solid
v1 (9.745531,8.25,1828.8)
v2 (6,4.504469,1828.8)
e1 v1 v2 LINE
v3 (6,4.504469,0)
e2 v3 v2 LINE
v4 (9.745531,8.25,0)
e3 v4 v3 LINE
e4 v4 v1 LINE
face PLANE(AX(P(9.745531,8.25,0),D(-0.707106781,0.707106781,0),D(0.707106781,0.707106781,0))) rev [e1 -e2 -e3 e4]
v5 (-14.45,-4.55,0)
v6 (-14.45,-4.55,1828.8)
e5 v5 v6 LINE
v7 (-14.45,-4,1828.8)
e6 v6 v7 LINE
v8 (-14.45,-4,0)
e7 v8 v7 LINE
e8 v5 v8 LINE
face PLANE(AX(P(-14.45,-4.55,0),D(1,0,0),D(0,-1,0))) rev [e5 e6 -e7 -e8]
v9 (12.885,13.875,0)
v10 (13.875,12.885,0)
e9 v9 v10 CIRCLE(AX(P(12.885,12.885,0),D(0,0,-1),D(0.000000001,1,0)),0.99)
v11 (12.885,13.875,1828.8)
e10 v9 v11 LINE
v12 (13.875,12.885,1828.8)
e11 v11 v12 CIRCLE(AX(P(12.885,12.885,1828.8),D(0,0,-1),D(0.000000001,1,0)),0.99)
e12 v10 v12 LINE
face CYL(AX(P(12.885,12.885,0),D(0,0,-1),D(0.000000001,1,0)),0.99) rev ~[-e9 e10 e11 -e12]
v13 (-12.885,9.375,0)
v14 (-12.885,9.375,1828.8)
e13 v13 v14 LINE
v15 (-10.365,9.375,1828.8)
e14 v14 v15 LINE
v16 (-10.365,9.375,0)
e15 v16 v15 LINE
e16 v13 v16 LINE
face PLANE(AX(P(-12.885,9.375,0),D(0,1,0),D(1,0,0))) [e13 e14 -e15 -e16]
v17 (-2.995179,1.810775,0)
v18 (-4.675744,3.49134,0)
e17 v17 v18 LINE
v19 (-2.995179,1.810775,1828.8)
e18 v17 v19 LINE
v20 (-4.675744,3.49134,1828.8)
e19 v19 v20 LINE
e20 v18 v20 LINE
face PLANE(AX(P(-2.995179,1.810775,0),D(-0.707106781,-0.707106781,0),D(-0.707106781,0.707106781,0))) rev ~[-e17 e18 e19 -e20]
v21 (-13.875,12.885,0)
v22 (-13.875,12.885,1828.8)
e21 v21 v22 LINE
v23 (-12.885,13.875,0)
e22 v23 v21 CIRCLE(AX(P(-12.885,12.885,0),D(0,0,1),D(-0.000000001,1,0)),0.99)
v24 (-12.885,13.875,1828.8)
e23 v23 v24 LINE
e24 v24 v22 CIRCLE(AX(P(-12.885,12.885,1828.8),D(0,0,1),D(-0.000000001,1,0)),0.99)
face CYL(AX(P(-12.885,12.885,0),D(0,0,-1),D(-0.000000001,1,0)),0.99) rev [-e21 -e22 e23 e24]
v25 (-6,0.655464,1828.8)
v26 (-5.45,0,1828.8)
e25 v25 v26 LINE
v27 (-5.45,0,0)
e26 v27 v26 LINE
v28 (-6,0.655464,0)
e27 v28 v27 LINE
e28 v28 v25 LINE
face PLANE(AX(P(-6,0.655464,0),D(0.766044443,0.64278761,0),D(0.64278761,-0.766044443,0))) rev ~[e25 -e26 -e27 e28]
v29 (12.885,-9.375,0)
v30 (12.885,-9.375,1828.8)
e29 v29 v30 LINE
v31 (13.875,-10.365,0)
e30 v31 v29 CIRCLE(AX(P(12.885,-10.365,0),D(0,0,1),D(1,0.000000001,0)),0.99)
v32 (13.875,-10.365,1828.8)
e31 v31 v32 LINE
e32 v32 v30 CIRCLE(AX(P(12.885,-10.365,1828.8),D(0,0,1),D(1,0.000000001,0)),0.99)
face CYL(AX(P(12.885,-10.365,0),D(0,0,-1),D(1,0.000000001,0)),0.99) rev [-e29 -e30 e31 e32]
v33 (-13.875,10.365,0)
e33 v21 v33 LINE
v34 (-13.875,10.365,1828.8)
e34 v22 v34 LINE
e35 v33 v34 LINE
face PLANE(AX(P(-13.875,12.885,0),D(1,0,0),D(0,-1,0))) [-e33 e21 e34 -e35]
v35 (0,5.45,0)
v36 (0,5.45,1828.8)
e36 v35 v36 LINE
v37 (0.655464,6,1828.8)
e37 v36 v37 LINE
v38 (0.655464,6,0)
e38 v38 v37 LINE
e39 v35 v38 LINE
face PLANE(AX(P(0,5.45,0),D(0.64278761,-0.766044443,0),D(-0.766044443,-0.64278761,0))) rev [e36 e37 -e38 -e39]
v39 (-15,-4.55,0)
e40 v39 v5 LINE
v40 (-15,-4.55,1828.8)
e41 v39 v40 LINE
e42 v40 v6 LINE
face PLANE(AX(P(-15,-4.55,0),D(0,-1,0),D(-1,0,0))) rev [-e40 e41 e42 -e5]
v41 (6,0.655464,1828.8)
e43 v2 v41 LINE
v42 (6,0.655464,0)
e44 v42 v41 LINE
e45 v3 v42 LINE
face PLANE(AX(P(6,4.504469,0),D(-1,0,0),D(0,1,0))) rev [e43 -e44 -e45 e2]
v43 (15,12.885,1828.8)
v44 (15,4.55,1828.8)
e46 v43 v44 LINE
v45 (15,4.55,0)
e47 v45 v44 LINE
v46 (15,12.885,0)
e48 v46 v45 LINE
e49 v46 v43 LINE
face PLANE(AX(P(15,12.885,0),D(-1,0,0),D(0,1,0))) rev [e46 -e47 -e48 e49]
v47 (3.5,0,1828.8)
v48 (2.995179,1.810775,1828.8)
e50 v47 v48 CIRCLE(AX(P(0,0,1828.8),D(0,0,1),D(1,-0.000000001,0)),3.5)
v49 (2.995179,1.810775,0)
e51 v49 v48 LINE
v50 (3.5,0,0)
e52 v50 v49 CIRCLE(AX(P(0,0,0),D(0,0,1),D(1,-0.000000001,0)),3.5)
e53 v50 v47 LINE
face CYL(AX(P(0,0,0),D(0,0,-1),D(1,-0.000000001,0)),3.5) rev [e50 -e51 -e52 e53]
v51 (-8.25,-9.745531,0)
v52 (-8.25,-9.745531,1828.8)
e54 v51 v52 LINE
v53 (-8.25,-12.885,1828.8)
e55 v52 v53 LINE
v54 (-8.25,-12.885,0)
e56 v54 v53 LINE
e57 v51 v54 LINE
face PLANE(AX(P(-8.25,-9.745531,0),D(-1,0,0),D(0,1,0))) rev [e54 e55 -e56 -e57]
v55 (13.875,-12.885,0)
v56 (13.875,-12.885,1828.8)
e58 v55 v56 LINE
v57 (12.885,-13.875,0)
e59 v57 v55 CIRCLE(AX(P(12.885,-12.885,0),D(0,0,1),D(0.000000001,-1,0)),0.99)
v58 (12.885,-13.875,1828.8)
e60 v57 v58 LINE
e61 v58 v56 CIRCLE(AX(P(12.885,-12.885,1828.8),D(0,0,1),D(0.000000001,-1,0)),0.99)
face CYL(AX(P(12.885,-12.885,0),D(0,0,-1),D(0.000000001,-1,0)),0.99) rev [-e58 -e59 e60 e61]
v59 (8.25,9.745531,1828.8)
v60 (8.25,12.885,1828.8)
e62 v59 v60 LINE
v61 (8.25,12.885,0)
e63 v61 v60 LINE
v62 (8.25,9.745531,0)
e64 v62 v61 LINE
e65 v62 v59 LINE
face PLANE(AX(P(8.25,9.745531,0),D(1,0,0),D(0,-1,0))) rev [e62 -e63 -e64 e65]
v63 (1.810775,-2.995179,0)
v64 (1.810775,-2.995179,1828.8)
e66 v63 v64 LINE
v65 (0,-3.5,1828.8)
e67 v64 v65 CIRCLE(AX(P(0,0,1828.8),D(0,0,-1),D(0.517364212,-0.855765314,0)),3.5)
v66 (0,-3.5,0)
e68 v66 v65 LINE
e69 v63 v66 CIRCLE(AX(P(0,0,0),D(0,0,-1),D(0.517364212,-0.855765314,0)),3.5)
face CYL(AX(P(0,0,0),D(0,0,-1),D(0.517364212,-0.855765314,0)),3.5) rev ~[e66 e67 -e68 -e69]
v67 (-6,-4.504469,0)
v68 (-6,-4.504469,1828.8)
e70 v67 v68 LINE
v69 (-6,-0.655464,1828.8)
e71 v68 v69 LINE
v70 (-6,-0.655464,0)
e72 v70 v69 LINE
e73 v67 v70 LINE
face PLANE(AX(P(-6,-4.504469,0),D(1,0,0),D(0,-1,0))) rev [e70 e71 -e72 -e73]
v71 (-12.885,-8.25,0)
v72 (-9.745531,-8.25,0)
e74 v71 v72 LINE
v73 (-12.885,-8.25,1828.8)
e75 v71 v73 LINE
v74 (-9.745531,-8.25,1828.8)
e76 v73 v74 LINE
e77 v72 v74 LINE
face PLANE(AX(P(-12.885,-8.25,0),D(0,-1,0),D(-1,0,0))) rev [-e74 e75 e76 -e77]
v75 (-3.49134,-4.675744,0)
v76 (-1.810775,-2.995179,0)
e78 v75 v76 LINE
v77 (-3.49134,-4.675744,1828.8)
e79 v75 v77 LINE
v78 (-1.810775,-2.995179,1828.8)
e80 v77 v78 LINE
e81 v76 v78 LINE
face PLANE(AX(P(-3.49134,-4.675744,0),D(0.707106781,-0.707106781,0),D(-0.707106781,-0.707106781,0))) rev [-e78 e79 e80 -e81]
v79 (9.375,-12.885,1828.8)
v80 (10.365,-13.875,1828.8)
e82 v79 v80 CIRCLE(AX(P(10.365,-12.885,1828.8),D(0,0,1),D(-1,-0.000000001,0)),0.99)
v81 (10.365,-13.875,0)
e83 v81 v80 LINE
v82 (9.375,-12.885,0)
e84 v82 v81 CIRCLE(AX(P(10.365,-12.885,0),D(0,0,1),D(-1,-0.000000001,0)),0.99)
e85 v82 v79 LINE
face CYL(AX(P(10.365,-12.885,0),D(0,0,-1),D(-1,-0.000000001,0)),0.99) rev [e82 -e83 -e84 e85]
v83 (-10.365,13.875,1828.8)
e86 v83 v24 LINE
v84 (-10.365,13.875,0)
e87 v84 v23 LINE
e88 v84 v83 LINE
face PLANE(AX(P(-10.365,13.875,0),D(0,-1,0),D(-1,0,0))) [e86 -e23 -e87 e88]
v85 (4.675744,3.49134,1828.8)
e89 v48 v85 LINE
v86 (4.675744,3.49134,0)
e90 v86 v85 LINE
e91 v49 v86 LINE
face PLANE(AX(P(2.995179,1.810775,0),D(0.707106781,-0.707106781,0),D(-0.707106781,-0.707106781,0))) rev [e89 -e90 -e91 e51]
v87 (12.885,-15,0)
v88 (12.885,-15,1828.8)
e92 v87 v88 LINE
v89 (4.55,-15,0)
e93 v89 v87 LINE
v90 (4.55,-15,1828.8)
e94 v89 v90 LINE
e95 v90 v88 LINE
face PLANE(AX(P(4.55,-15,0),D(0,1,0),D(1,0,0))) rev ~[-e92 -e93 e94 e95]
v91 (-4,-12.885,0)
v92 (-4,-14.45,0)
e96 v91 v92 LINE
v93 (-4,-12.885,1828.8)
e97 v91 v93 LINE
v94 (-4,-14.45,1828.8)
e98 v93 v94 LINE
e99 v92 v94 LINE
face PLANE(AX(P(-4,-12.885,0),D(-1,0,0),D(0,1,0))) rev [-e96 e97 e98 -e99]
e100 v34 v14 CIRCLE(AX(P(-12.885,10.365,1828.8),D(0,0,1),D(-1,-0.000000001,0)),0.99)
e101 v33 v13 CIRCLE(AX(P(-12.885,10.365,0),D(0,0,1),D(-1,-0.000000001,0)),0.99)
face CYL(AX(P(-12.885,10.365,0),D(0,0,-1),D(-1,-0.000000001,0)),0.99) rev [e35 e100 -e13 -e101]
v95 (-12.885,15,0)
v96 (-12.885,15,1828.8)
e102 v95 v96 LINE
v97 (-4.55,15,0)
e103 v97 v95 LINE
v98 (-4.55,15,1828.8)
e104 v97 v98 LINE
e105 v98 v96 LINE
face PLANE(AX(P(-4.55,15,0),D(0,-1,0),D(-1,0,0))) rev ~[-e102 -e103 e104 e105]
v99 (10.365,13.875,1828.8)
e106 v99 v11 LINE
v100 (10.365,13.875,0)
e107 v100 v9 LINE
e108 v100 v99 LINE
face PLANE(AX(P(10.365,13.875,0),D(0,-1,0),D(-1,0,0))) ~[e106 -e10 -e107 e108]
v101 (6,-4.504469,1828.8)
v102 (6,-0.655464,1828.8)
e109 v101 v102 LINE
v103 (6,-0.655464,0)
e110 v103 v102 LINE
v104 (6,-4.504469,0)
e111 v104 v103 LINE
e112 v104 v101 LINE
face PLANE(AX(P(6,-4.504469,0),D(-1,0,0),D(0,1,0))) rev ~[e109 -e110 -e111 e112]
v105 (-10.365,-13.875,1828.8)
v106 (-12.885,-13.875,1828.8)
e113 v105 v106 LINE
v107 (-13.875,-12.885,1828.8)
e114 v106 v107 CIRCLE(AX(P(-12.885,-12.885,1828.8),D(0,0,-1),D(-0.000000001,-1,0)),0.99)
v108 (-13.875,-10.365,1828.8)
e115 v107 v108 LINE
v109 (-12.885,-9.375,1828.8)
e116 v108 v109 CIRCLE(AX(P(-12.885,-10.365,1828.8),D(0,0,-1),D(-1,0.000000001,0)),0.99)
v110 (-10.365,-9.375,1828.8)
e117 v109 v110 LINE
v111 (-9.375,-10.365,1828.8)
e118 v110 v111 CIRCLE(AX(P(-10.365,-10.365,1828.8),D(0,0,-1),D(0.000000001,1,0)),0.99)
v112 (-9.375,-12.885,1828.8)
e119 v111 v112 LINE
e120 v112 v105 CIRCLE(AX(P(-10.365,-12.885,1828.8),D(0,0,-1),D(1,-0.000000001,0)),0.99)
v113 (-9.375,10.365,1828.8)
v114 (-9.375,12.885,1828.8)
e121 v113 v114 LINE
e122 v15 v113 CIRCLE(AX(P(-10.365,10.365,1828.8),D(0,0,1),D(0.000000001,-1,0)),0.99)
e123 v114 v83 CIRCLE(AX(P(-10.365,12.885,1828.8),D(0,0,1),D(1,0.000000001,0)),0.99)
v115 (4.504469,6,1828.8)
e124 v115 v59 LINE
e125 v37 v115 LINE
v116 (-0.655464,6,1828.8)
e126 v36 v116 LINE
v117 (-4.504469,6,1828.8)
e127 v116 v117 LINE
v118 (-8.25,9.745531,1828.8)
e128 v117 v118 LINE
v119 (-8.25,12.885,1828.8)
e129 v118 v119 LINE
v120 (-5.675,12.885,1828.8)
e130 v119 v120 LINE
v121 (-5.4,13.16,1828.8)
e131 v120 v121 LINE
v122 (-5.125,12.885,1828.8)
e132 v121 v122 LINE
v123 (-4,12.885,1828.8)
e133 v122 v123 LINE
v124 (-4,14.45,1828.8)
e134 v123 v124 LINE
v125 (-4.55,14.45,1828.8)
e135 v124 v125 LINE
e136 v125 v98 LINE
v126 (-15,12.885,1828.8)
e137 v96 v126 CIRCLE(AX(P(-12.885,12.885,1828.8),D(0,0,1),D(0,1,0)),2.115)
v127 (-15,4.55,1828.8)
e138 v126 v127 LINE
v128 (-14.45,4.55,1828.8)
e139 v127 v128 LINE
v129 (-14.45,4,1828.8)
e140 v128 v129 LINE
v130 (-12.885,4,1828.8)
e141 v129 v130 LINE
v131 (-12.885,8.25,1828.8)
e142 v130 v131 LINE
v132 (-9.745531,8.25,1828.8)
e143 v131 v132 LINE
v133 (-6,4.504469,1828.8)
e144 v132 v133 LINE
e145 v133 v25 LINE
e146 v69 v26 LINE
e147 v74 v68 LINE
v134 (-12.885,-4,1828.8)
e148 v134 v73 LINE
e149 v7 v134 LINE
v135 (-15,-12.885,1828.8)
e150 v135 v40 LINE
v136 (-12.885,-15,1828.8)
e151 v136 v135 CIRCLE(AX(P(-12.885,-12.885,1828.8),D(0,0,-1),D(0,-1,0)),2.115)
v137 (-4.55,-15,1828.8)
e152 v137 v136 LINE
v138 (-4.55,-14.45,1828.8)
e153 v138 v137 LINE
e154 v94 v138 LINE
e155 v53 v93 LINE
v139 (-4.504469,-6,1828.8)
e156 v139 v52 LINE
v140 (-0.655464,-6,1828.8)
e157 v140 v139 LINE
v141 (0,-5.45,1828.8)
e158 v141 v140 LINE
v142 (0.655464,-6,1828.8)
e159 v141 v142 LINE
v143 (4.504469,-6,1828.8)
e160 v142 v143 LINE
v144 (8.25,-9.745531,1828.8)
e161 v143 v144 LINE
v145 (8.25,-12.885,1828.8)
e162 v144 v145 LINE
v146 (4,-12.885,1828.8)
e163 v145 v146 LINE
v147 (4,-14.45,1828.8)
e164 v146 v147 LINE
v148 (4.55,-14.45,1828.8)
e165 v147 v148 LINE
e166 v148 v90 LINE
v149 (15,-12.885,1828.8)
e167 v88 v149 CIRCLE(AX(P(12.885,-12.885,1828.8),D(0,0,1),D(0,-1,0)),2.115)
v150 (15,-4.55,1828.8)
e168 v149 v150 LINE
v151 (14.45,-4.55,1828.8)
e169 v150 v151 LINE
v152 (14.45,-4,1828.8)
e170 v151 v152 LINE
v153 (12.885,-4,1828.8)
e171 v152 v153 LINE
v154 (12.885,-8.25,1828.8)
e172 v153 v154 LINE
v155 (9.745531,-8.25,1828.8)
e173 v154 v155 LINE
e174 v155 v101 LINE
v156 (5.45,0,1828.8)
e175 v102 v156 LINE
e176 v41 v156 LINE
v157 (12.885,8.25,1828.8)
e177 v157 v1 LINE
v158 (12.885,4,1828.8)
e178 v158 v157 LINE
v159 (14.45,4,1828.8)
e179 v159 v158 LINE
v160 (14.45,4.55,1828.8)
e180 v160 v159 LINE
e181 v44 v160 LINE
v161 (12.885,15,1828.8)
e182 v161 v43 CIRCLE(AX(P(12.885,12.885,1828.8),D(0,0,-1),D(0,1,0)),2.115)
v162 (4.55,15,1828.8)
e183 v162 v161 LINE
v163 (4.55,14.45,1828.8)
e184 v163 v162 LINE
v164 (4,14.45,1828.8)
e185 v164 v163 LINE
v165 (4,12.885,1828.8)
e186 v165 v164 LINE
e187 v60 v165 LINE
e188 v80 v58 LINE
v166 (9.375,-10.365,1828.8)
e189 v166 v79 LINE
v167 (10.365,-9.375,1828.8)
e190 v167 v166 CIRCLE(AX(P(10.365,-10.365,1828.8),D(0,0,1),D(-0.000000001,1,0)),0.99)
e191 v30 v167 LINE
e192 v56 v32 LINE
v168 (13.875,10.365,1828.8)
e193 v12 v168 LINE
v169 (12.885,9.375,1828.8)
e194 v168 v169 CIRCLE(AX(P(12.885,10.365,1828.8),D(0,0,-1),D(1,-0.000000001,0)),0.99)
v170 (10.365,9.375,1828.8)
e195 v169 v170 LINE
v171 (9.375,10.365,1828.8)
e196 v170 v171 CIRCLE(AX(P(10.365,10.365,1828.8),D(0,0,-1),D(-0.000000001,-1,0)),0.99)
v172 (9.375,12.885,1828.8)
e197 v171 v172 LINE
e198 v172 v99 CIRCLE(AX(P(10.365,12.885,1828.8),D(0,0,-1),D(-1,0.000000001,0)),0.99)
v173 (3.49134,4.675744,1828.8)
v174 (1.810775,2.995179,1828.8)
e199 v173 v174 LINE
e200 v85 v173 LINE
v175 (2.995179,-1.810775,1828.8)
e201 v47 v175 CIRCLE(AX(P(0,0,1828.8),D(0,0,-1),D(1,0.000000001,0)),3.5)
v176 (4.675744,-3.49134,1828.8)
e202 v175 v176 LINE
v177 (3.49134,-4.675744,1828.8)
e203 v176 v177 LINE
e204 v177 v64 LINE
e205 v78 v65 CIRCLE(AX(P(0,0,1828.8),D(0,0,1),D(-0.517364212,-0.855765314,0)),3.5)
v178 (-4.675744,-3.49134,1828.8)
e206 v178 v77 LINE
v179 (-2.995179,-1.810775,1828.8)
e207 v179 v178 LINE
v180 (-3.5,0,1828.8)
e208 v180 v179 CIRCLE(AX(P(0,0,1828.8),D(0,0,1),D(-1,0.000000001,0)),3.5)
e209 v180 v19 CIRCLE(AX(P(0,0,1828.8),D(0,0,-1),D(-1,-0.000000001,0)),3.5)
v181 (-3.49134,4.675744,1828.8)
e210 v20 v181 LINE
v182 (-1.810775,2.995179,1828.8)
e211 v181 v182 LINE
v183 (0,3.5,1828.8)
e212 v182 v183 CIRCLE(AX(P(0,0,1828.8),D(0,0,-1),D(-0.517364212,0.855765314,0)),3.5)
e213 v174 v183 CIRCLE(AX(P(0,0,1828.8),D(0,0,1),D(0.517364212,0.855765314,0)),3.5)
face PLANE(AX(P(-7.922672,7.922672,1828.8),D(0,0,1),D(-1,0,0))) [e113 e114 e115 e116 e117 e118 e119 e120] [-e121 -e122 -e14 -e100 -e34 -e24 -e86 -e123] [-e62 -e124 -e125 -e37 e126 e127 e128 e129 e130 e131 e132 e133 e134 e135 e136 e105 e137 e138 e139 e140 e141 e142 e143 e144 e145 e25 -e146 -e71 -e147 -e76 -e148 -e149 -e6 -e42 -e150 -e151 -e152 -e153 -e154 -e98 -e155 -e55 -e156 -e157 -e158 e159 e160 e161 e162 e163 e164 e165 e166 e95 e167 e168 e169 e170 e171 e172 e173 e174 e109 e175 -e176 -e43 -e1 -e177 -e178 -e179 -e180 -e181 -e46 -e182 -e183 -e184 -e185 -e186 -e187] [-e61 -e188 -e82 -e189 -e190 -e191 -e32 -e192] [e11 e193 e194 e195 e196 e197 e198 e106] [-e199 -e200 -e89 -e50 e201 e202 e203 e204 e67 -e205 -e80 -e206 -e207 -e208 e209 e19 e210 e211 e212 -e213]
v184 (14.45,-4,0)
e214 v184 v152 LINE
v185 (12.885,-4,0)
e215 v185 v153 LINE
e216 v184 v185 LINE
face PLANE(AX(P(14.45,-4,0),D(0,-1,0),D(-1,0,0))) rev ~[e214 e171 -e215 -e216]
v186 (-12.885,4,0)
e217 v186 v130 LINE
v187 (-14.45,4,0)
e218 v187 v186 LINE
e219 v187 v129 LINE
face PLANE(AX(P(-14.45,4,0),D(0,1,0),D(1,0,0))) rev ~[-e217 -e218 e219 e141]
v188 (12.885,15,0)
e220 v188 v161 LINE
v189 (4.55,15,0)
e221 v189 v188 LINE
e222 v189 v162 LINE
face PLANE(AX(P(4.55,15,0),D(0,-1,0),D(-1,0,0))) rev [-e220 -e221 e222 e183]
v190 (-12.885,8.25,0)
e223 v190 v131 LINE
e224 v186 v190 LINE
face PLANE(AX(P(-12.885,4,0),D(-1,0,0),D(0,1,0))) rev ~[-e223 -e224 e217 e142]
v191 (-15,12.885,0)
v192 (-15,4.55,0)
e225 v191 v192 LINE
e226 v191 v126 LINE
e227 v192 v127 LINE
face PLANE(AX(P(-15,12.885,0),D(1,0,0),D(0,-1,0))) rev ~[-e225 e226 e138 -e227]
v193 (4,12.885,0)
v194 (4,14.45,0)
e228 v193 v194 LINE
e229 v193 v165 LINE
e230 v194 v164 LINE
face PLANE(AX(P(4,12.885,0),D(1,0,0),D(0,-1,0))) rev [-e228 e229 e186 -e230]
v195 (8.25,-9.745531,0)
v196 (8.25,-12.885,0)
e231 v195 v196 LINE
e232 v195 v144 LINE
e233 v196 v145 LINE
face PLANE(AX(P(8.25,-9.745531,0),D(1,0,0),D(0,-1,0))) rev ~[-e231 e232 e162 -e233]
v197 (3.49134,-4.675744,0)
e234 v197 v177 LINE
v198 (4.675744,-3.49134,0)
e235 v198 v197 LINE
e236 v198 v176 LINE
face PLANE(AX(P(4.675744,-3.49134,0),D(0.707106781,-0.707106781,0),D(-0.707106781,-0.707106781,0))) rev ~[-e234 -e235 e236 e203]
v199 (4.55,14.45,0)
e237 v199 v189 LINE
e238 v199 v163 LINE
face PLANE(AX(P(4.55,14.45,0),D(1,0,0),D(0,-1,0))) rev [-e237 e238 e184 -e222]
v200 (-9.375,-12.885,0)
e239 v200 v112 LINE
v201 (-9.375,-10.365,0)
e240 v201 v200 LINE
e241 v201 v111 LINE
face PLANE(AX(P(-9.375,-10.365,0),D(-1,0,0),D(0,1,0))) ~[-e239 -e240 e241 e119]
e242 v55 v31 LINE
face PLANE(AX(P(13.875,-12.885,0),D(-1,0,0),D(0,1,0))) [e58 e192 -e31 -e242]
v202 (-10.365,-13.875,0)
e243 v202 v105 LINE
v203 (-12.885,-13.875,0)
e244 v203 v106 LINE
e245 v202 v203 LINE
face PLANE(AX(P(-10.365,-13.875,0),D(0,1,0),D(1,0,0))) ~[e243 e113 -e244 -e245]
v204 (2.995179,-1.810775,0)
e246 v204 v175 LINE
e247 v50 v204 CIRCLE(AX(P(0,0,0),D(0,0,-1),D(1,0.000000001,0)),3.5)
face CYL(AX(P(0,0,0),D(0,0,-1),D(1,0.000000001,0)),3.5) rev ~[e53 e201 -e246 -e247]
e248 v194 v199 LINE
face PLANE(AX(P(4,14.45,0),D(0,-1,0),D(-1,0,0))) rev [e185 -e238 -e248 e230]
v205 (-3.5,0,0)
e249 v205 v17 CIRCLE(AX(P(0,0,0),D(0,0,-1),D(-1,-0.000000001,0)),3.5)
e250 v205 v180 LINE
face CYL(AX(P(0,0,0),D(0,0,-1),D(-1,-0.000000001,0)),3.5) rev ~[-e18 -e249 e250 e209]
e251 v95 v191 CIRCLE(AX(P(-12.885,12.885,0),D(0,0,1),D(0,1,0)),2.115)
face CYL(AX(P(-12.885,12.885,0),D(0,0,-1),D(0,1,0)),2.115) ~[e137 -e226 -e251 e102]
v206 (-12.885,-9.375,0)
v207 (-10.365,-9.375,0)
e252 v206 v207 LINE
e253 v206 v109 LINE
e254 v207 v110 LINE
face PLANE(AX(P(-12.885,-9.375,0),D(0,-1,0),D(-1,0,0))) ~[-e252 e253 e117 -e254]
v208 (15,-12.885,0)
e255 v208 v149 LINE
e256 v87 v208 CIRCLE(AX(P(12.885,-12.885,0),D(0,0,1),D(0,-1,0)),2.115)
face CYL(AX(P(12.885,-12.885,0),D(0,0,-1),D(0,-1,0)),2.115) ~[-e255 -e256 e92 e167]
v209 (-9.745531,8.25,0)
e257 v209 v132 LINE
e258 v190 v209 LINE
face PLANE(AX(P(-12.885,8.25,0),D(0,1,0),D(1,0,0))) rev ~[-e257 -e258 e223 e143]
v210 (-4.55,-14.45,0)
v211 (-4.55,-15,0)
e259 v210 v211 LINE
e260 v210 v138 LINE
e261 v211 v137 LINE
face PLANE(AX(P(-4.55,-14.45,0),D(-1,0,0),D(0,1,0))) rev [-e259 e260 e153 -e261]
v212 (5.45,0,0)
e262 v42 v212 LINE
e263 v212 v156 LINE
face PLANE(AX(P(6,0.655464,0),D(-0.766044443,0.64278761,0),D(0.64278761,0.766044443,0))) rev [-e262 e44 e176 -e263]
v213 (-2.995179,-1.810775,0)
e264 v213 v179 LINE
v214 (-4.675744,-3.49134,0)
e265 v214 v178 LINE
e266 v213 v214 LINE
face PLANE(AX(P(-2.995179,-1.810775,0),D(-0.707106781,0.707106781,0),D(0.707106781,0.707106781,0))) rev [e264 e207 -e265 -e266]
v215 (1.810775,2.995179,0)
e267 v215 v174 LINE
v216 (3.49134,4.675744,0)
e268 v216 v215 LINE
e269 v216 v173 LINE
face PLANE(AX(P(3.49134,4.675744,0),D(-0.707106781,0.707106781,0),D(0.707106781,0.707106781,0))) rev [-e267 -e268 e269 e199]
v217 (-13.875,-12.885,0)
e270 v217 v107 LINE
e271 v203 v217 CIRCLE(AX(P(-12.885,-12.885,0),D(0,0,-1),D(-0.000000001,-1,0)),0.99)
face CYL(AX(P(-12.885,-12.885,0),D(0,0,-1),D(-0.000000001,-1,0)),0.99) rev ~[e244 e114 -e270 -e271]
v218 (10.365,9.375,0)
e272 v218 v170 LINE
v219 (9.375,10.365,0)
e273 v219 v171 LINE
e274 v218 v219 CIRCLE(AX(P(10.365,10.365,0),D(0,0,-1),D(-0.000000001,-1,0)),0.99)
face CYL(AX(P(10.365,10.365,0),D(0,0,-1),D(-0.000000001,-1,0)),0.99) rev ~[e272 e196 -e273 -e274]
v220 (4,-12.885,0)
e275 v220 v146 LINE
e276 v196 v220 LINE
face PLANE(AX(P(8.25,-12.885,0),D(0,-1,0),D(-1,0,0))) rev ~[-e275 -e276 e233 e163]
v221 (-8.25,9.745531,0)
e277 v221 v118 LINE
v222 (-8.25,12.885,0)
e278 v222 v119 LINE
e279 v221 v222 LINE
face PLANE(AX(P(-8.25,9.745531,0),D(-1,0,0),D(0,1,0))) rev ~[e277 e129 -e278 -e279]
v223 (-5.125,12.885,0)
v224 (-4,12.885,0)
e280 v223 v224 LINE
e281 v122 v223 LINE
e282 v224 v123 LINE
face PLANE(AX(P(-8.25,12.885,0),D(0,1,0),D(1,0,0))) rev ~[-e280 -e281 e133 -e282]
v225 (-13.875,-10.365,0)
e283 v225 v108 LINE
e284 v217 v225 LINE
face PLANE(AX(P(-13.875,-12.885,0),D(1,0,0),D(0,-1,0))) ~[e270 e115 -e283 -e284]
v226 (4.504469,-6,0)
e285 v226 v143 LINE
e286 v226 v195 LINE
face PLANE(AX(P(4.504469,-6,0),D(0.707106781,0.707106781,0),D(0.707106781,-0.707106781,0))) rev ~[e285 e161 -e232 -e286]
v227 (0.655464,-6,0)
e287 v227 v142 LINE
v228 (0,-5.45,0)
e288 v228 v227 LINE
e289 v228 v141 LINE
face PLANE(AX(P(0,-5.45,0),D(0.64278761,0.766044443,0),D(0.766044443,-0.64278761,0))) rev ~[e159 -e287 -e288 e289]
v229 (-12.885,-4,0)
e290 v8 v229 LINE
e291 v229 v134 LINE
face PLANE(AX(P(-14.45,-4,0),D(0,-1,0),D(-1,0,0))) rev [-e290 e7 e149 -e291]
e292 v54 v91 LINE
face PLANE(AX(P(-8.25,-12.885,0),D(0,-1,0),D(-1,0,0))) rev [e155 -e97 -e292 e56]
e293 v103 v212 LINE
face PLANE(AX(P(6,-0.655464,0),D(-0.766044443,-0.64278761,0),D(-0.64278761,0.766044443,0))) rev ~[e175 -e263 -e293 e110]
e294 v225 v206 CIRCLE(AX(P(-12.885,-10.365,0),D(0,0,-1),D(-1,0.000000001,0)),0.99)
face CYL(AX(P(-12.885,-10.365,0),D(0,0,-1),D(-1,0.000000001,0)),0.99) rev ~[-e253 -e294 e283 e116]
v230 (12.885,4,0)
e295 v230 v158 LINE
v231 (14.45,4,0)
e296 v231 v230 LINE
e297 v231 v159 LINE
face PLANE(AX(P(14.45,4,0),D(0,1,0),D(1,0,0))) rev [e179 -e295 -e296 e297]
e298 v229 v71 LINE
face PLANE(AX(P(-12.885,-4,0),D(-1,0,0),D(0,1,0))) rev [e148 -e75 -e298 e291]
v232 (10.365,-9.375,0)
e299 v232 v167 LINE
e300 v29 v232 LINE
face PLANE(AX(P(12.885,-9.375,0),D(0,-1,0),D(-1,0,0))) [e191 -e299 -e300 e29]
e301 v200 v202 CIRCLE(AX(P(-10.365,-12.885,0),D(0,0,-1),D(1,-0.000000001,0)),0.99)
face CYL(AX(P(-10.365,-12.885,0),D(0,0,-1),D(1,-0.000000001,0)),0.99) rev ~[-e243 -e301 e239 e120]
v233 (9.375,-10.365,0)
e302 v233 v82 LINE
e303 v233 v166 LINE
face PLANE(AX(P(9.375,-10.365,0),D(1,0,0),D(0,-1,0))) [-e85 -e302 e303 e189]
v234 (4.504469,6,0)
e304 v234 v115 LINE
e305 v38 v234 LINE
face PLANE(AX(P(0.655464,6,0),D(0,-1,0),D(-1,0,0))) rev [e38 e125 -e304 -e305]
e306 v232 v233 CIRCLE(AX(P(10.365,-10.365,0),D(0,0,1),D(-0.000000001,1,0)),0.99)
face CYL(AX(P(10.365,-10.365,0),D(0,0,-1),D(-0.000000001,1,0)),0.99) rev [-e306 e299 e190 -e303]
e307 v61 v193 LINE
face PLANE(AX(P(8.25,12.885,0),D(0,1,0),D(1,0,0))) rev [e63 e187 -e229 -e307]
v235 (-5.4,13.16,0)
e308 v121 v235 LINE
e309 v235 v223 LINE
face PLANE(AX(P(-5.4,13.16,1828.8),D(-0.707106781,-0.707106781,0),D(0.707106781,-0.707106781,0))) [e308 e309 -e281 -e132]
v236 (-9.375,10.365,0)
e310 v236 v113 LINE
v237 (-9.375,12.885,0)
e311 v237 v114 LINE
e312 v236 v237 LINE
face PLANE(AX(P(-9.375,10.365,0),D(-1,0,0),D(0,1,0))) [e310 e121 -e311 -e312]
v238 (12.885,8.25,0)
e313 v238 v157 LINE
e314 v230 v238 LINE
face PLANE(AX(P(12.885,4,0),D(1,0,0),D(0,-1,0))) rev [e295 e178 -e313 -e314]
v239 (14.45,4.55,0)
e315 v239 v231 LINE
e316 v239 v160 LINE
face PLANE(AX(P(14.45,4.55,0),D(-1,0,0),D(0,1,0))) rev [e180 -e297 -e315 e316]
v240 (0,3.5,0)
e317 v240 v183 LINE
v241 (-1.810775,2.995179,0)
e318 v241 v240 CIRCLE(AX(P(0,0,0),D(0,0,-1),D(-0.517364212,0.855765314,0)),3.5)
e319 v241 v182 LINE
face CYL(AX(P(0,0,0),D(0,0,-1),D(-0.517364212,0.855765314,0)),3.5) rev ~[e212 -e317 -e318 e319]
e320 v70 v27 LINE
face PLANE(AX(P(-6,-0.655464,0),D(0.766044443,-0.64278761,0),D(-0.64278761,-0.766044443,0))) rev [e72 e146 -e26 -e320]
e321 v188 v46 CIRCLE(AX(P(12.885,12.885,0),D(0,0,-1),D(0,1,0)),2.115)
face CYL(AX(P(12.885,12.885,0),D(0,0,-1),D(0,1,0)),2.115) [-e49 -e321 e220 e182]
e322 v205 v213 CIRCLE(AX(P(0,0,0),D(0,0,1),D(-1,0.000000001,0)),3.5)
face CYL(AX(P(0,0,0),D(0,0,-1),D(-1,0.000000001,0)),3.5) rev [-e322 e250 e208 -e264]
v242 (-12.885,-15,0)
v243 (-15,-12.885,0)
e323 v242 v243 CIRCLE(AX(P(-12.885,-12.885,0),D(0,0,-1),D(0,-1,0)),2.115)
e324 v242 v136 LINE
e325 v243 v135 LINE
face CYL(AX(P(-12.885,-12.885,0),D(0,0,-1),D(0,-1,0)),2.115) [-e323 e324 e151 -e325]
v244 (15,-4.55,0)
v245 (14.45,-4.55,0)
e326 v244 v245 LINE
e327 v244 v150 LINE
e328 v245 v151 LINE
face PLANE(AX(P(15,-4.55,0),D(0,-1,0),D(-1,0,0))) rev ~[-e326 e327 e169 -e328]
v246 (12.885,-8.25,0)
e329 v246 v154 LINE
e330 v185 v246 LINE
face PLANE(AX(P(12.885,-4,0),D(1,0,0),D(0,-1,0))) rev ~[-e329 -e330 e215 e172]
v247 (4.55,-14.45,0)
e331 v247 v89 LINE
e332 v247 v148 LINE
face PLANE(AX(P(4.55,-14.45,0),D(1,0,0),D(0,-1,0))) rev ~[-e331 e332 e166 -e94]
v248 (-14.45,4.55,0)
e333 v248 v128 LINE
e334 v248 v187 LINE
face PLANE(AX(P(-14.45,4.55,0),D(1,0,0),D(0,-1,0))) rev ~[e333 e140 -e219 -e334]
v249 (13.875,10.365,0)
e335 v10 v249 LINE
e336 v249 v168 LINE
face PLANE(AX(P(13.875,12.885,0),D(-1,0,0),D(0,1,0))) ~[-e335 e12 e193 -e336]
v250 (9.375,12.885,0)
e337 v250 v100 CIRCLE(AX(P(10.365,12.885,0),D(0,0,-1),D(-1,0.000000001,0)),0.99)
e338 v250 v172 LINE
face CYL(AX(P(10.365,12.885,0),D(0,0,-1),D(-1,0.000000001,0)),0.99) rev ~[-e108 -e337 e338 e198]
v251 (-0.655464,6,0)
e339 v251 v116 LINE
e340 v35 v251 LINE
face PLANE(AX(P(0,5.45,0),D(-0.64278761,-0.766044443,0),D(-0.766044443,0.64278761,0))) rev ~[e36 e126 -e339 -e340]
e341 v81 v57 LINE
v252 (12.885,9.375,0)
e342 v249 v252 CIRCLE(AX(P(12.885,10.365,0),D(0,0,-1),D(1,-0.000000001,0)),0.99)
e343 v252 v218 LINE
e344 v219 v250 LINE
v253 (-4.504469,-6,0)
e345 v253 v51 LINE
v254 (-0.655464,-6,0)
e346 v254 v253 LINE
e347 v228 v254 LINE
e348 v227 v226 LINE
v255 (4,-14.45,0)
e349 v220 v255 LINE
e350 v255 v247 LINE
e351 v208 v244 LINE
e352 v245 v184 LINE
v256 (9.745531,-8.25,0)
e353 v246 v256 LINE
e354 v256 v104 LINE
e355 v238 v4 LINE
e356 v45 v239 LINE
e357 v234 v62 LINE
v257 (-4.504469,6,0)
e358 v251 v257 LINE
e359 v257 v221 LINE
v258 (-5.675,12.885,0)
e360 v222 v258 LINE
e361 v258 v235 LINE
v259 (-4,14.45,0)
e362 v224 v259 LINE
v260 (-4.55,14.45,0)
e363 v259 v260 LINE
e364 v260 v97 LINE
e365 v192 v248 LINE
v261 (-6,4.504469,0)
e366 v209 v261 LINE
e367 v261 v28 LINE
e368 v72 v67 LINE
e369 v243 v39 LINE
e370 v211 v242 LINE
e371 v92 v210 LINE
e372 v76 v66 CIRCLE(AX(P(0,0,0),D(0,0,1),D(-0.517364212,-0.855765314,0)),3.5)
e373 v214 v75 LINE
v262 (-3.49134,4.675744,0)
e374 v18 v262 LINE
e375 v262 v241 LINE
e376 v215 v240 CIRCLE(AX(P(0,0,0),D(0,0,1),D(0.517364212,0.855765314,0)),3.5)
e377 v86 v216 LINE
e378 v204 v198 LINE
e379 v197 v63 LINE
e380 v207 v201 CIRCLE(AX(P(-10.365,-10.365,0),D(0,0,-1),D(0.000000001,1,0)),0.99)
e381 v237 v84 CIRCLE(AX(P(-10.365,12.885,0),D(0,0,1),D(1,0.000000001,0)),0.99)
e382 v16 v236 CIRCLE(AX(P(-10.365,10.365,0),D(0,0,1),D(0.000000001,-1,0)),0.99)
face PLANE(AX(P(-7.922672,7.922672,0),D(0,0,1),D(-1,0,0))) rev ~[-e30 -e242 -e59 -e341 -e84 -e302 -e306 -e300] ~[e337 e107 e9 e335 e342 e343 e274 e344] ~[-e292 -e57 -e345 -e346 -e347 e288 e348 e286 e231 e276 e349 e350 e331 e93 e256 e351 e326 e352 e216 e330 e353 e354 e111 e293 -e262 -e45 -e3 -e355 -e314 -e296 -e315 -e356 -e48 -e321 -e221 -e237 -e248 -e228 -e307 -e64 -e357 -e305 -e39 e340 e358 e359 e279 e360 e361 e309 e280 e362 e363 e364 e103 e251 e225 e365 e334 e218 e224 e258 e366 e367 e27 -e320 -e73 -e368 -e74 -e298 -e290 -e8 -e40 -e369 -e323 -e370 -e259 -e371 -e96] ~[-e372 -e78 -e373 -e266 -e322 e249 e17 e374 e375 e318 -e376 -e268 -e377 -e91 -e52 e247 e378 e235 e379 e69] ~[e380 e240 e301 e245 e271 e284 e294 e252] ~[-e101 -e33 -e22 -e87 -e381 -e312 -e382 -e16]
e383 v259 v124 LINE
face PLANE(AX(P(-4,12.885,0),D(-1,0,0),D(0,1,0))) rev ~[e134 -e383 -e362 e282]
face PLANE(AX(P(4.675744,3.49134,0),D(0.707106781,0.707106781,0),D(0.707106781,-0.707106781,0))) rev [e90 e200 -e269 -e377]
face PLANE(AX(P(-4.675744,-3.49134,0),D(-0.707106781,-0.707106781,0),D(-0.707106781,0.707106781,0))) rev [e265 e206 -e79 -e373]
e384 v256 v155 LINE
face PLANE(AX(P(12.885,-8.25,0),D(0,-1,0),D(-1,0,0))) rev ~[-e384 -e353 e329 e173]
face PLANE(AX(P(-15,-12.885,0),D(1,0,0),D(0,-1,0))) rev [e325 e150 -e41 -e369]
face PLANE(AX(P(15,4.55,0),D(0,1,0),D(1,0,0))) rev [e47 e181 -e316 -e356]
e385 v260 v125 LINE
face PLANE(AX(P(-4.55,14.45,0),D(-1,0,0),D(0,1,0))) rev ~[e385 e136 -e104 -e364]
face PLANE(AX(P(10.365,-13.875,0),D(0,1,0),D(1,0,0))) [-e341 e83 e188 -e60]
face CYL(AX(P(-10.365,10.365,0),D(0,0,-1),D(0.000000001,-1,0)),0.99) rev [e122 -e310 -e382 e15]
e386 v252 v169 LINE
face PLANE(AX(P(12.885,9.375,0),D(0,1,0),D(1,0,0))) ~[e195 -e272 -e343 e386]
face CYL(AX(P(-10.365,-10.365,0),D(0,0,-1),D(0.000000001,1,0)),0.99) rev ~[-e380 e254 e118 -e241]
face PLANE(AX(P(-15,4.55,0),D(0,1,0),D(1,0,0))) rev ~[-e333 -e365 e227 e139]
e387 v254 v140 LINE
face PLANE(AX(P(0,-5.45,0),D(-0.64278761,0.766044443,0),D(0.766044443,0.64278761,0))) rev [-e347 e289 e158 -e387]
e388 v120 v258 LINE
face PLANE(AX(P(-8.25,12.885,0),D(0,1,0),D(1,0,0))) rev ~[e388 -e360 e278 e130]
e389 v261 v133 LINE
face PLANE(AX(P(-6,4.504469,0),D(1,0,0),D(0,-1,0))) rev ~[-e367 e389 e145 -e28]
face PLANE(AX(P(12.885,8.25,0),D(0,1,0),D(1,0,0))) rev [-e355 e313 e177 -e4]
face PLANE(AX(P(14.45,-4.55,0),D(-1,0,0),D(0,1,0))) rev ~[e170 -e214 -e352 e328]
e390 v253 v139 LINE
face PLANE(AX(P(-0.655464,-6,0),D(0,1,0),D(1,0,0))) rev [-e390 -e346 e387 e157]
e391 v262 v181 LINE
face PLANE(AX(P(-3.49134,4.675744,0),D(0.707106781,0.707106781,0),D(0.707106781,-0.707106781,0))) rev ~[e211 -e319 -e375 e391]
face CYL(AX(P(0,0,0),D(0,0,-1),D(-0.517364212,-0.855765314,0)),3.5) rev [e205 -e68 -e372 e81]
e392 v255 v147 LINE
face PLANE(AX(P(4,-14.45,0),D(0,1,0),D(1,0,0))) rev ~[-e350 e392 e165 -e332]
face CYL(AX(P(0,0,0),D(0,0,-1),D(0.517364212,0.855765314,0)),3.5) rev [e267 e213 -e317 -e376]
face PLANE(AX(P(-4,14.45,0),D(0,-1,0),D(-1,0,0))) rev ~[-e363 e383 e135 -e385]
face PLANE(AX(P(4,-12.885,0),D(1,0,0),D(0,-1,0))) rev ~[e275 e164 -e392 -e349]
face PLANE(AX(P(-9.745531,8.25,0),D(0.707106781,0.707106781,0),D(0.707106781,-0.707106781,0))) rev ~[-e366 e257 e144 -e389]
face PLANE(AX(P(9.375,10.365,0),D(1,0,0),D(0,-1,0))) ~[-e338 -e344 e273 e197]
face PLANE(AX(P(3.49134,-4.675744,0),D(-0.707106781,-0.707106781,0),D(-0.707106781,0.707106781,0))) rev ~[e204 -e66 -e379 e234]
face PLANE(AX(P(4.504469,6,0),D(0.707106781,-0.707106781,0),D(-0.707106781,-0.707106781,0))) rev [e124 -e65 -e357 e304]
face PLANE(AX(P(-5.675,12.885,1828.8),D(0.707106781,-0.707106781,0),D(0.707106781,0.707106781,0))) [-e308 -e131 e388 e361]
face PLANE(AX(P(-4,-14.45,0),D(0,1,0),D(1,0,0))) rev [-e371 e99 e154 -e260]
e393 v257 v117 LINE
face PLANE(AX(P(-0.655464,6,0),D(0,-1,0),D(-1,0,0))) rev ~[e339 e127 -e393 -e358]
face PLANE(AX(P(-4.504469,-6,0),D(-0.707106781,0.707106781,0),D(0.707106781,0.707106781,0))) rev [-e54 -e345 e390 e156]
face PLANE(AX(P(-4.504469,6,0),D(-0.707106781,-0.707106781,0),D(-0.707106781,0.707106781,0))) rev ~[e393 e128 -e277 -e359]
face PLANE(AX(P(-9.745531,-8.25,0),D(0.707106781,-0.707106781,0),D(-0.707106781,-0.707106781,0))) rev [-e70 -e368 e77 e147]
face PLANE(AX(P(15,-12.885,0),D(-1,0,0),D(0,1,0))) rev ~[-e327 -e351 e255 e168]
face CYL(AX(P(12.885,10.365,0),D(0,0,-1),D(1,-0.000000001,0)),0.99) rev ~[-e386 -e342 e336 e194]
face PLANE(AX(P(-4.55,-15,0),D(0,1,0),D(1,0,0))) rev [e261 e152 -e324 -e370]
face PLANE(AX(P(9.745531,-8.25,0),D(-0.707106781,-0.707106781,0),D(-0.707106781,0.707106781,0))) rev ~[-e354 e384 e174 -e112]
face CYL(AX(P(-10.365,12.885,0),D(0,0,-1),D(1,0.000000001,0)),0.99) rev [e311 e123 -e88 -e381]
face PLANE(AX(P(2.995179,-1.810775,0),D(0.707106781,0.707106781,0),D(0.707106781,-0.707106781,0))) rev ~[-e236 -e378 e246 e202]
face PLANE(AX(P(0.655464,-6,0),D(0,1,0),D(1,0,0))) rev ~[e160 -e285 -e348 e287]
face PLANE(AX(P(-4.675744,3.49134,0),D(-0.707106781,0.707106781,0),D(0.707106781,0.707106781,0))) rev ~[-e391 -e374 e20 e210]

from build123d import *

# Parameters (mm, degrees)
BOSS_EXTRUDE1_DEPTH     = 1828.8
CUT_EXTRUDE1_DEPTH      = 1
CUT_EXTRUDE1_DEPTH_BACK = 1829.8


with BuildPart() as part:
    # Sketch4 → Boss-Extrude1 (new body)
    with BuildSketch(Plane.XY):
        with BuildLine():
            Line((0, -5.45), (0.655464476, -6))
            Line((0.655464476, -6), (4.504469158, -6))
            Line((4.504469158, -6), (8.25, -9.745530842))
            Line((8.25, -9.745530842), (8.25, -12.885))
            Line((8.25, -12.885), (4, -12.885))
            Line((4, -12.885), (4, -14.45))
            Line((4, -14.45), (4.55, -14.45))
            Line((4.55, -14.45), (4.55, -15))
            Line((4.55, -15), (12.885, -15))
            ThreePointArc((12.885, -15), (14.380530842, -14.380530842), (15, -12.885))
            Line((15, -12.885), (15, -4.55))
            Line((15, -4.55), (14.45, -4.55))
            Line((14.45, -4.55), (14.45, -4))
            Line((14.45, -4), (12.885, -4))
            Line((12.885, -4), (12.885, -8.25))
            Line((12.885, -8.25), (9.745530842, -8.25))
            Line((9.745530842, -8.25), (6, -4.504469158))
            Line((6, -4.504469158), (6, -0.655464476))
            Line((6, -0.655464476), (5.45, 0))
            Line((5.45, 0), (3.5, 0))
            ThreePointArc((3.5, 0), (3.371433308, -0.939913534), (2.995178599, -1.81077474))
            Line((2.995178599, -1.81077474), (4.675743591, -3.491339732))
            Line((4.675743591, -3.491339732), (3.491339732, -4.675743591))
            Line((3.491339732, -4.675743591), (1.81077474, -2.995178599))
            ThreePointArc((1.81077474, -2.995178599), (0.939913534, -3.371433308), (0, -3.5))
            Line((0, -3.5), (0, -5.45))
        make_face()
        with BuildLine():
            Line((9.375, -10.365), (9.375, -12.885))
            ThreePointArc((9.375, -12.885), (9.664964287, -13.585035713), (10.365, -13.875))
            Line((10.365, -13.875), (12.885, -13.875))
            ThreePointArc((12.885, -13.875), (13.585035713, -13.585035713), (13.875, -12.885))
            Line((13.875, -12.885), (13.875, -10.365))
            ThreePointArc((13.875, -10.365), (13.585035713, -9.664964287), (12.885, -9.375))
            Line((12.885, -9.375), (10.365, -9.375))
            ThreePointArc((10.365, -9.375), (9.664964287, -9.664964287), (9.375, -10.365))
        make_face(mode=Mode.SUBTRACT)
    extrude(amount=BOSS_EXTRUDE1_DEPTH)

    # Mirror1: part across plane


with BuildPart() as part_1:
    add(part.part)
    add(part.part.mirror(Plane(origin=(0, 0, 0), x_dir=(0, 0, 1), z_dir=(1, 0, 0))))

    # Mirror2: part across plane


with BuildPart() as part_2:
    add(part_1.part)
    add(part_1.part.mirror(Plane.ZX))

    # Sketch5 → Cut-Extrude1 (cut, two sides)
    with BuildSketch(Plane.XY.offset(1828.8)) as cut_extrude1_sk:
        Polygon((-5.675, 12.885), (-5.4, 13.16), (-5.125, 12.885), align=None)
    extrude(amount=CUT_EXTRUDE1_DEPTH, mode=Mode.SUBTRACT)
    extrude(cut_extrude1_sk.sketch, amount=-CUT_EXTRUDE1_DEPTH_BACK, mode=Mode.SUBTRACT)


solid = part_2.part
